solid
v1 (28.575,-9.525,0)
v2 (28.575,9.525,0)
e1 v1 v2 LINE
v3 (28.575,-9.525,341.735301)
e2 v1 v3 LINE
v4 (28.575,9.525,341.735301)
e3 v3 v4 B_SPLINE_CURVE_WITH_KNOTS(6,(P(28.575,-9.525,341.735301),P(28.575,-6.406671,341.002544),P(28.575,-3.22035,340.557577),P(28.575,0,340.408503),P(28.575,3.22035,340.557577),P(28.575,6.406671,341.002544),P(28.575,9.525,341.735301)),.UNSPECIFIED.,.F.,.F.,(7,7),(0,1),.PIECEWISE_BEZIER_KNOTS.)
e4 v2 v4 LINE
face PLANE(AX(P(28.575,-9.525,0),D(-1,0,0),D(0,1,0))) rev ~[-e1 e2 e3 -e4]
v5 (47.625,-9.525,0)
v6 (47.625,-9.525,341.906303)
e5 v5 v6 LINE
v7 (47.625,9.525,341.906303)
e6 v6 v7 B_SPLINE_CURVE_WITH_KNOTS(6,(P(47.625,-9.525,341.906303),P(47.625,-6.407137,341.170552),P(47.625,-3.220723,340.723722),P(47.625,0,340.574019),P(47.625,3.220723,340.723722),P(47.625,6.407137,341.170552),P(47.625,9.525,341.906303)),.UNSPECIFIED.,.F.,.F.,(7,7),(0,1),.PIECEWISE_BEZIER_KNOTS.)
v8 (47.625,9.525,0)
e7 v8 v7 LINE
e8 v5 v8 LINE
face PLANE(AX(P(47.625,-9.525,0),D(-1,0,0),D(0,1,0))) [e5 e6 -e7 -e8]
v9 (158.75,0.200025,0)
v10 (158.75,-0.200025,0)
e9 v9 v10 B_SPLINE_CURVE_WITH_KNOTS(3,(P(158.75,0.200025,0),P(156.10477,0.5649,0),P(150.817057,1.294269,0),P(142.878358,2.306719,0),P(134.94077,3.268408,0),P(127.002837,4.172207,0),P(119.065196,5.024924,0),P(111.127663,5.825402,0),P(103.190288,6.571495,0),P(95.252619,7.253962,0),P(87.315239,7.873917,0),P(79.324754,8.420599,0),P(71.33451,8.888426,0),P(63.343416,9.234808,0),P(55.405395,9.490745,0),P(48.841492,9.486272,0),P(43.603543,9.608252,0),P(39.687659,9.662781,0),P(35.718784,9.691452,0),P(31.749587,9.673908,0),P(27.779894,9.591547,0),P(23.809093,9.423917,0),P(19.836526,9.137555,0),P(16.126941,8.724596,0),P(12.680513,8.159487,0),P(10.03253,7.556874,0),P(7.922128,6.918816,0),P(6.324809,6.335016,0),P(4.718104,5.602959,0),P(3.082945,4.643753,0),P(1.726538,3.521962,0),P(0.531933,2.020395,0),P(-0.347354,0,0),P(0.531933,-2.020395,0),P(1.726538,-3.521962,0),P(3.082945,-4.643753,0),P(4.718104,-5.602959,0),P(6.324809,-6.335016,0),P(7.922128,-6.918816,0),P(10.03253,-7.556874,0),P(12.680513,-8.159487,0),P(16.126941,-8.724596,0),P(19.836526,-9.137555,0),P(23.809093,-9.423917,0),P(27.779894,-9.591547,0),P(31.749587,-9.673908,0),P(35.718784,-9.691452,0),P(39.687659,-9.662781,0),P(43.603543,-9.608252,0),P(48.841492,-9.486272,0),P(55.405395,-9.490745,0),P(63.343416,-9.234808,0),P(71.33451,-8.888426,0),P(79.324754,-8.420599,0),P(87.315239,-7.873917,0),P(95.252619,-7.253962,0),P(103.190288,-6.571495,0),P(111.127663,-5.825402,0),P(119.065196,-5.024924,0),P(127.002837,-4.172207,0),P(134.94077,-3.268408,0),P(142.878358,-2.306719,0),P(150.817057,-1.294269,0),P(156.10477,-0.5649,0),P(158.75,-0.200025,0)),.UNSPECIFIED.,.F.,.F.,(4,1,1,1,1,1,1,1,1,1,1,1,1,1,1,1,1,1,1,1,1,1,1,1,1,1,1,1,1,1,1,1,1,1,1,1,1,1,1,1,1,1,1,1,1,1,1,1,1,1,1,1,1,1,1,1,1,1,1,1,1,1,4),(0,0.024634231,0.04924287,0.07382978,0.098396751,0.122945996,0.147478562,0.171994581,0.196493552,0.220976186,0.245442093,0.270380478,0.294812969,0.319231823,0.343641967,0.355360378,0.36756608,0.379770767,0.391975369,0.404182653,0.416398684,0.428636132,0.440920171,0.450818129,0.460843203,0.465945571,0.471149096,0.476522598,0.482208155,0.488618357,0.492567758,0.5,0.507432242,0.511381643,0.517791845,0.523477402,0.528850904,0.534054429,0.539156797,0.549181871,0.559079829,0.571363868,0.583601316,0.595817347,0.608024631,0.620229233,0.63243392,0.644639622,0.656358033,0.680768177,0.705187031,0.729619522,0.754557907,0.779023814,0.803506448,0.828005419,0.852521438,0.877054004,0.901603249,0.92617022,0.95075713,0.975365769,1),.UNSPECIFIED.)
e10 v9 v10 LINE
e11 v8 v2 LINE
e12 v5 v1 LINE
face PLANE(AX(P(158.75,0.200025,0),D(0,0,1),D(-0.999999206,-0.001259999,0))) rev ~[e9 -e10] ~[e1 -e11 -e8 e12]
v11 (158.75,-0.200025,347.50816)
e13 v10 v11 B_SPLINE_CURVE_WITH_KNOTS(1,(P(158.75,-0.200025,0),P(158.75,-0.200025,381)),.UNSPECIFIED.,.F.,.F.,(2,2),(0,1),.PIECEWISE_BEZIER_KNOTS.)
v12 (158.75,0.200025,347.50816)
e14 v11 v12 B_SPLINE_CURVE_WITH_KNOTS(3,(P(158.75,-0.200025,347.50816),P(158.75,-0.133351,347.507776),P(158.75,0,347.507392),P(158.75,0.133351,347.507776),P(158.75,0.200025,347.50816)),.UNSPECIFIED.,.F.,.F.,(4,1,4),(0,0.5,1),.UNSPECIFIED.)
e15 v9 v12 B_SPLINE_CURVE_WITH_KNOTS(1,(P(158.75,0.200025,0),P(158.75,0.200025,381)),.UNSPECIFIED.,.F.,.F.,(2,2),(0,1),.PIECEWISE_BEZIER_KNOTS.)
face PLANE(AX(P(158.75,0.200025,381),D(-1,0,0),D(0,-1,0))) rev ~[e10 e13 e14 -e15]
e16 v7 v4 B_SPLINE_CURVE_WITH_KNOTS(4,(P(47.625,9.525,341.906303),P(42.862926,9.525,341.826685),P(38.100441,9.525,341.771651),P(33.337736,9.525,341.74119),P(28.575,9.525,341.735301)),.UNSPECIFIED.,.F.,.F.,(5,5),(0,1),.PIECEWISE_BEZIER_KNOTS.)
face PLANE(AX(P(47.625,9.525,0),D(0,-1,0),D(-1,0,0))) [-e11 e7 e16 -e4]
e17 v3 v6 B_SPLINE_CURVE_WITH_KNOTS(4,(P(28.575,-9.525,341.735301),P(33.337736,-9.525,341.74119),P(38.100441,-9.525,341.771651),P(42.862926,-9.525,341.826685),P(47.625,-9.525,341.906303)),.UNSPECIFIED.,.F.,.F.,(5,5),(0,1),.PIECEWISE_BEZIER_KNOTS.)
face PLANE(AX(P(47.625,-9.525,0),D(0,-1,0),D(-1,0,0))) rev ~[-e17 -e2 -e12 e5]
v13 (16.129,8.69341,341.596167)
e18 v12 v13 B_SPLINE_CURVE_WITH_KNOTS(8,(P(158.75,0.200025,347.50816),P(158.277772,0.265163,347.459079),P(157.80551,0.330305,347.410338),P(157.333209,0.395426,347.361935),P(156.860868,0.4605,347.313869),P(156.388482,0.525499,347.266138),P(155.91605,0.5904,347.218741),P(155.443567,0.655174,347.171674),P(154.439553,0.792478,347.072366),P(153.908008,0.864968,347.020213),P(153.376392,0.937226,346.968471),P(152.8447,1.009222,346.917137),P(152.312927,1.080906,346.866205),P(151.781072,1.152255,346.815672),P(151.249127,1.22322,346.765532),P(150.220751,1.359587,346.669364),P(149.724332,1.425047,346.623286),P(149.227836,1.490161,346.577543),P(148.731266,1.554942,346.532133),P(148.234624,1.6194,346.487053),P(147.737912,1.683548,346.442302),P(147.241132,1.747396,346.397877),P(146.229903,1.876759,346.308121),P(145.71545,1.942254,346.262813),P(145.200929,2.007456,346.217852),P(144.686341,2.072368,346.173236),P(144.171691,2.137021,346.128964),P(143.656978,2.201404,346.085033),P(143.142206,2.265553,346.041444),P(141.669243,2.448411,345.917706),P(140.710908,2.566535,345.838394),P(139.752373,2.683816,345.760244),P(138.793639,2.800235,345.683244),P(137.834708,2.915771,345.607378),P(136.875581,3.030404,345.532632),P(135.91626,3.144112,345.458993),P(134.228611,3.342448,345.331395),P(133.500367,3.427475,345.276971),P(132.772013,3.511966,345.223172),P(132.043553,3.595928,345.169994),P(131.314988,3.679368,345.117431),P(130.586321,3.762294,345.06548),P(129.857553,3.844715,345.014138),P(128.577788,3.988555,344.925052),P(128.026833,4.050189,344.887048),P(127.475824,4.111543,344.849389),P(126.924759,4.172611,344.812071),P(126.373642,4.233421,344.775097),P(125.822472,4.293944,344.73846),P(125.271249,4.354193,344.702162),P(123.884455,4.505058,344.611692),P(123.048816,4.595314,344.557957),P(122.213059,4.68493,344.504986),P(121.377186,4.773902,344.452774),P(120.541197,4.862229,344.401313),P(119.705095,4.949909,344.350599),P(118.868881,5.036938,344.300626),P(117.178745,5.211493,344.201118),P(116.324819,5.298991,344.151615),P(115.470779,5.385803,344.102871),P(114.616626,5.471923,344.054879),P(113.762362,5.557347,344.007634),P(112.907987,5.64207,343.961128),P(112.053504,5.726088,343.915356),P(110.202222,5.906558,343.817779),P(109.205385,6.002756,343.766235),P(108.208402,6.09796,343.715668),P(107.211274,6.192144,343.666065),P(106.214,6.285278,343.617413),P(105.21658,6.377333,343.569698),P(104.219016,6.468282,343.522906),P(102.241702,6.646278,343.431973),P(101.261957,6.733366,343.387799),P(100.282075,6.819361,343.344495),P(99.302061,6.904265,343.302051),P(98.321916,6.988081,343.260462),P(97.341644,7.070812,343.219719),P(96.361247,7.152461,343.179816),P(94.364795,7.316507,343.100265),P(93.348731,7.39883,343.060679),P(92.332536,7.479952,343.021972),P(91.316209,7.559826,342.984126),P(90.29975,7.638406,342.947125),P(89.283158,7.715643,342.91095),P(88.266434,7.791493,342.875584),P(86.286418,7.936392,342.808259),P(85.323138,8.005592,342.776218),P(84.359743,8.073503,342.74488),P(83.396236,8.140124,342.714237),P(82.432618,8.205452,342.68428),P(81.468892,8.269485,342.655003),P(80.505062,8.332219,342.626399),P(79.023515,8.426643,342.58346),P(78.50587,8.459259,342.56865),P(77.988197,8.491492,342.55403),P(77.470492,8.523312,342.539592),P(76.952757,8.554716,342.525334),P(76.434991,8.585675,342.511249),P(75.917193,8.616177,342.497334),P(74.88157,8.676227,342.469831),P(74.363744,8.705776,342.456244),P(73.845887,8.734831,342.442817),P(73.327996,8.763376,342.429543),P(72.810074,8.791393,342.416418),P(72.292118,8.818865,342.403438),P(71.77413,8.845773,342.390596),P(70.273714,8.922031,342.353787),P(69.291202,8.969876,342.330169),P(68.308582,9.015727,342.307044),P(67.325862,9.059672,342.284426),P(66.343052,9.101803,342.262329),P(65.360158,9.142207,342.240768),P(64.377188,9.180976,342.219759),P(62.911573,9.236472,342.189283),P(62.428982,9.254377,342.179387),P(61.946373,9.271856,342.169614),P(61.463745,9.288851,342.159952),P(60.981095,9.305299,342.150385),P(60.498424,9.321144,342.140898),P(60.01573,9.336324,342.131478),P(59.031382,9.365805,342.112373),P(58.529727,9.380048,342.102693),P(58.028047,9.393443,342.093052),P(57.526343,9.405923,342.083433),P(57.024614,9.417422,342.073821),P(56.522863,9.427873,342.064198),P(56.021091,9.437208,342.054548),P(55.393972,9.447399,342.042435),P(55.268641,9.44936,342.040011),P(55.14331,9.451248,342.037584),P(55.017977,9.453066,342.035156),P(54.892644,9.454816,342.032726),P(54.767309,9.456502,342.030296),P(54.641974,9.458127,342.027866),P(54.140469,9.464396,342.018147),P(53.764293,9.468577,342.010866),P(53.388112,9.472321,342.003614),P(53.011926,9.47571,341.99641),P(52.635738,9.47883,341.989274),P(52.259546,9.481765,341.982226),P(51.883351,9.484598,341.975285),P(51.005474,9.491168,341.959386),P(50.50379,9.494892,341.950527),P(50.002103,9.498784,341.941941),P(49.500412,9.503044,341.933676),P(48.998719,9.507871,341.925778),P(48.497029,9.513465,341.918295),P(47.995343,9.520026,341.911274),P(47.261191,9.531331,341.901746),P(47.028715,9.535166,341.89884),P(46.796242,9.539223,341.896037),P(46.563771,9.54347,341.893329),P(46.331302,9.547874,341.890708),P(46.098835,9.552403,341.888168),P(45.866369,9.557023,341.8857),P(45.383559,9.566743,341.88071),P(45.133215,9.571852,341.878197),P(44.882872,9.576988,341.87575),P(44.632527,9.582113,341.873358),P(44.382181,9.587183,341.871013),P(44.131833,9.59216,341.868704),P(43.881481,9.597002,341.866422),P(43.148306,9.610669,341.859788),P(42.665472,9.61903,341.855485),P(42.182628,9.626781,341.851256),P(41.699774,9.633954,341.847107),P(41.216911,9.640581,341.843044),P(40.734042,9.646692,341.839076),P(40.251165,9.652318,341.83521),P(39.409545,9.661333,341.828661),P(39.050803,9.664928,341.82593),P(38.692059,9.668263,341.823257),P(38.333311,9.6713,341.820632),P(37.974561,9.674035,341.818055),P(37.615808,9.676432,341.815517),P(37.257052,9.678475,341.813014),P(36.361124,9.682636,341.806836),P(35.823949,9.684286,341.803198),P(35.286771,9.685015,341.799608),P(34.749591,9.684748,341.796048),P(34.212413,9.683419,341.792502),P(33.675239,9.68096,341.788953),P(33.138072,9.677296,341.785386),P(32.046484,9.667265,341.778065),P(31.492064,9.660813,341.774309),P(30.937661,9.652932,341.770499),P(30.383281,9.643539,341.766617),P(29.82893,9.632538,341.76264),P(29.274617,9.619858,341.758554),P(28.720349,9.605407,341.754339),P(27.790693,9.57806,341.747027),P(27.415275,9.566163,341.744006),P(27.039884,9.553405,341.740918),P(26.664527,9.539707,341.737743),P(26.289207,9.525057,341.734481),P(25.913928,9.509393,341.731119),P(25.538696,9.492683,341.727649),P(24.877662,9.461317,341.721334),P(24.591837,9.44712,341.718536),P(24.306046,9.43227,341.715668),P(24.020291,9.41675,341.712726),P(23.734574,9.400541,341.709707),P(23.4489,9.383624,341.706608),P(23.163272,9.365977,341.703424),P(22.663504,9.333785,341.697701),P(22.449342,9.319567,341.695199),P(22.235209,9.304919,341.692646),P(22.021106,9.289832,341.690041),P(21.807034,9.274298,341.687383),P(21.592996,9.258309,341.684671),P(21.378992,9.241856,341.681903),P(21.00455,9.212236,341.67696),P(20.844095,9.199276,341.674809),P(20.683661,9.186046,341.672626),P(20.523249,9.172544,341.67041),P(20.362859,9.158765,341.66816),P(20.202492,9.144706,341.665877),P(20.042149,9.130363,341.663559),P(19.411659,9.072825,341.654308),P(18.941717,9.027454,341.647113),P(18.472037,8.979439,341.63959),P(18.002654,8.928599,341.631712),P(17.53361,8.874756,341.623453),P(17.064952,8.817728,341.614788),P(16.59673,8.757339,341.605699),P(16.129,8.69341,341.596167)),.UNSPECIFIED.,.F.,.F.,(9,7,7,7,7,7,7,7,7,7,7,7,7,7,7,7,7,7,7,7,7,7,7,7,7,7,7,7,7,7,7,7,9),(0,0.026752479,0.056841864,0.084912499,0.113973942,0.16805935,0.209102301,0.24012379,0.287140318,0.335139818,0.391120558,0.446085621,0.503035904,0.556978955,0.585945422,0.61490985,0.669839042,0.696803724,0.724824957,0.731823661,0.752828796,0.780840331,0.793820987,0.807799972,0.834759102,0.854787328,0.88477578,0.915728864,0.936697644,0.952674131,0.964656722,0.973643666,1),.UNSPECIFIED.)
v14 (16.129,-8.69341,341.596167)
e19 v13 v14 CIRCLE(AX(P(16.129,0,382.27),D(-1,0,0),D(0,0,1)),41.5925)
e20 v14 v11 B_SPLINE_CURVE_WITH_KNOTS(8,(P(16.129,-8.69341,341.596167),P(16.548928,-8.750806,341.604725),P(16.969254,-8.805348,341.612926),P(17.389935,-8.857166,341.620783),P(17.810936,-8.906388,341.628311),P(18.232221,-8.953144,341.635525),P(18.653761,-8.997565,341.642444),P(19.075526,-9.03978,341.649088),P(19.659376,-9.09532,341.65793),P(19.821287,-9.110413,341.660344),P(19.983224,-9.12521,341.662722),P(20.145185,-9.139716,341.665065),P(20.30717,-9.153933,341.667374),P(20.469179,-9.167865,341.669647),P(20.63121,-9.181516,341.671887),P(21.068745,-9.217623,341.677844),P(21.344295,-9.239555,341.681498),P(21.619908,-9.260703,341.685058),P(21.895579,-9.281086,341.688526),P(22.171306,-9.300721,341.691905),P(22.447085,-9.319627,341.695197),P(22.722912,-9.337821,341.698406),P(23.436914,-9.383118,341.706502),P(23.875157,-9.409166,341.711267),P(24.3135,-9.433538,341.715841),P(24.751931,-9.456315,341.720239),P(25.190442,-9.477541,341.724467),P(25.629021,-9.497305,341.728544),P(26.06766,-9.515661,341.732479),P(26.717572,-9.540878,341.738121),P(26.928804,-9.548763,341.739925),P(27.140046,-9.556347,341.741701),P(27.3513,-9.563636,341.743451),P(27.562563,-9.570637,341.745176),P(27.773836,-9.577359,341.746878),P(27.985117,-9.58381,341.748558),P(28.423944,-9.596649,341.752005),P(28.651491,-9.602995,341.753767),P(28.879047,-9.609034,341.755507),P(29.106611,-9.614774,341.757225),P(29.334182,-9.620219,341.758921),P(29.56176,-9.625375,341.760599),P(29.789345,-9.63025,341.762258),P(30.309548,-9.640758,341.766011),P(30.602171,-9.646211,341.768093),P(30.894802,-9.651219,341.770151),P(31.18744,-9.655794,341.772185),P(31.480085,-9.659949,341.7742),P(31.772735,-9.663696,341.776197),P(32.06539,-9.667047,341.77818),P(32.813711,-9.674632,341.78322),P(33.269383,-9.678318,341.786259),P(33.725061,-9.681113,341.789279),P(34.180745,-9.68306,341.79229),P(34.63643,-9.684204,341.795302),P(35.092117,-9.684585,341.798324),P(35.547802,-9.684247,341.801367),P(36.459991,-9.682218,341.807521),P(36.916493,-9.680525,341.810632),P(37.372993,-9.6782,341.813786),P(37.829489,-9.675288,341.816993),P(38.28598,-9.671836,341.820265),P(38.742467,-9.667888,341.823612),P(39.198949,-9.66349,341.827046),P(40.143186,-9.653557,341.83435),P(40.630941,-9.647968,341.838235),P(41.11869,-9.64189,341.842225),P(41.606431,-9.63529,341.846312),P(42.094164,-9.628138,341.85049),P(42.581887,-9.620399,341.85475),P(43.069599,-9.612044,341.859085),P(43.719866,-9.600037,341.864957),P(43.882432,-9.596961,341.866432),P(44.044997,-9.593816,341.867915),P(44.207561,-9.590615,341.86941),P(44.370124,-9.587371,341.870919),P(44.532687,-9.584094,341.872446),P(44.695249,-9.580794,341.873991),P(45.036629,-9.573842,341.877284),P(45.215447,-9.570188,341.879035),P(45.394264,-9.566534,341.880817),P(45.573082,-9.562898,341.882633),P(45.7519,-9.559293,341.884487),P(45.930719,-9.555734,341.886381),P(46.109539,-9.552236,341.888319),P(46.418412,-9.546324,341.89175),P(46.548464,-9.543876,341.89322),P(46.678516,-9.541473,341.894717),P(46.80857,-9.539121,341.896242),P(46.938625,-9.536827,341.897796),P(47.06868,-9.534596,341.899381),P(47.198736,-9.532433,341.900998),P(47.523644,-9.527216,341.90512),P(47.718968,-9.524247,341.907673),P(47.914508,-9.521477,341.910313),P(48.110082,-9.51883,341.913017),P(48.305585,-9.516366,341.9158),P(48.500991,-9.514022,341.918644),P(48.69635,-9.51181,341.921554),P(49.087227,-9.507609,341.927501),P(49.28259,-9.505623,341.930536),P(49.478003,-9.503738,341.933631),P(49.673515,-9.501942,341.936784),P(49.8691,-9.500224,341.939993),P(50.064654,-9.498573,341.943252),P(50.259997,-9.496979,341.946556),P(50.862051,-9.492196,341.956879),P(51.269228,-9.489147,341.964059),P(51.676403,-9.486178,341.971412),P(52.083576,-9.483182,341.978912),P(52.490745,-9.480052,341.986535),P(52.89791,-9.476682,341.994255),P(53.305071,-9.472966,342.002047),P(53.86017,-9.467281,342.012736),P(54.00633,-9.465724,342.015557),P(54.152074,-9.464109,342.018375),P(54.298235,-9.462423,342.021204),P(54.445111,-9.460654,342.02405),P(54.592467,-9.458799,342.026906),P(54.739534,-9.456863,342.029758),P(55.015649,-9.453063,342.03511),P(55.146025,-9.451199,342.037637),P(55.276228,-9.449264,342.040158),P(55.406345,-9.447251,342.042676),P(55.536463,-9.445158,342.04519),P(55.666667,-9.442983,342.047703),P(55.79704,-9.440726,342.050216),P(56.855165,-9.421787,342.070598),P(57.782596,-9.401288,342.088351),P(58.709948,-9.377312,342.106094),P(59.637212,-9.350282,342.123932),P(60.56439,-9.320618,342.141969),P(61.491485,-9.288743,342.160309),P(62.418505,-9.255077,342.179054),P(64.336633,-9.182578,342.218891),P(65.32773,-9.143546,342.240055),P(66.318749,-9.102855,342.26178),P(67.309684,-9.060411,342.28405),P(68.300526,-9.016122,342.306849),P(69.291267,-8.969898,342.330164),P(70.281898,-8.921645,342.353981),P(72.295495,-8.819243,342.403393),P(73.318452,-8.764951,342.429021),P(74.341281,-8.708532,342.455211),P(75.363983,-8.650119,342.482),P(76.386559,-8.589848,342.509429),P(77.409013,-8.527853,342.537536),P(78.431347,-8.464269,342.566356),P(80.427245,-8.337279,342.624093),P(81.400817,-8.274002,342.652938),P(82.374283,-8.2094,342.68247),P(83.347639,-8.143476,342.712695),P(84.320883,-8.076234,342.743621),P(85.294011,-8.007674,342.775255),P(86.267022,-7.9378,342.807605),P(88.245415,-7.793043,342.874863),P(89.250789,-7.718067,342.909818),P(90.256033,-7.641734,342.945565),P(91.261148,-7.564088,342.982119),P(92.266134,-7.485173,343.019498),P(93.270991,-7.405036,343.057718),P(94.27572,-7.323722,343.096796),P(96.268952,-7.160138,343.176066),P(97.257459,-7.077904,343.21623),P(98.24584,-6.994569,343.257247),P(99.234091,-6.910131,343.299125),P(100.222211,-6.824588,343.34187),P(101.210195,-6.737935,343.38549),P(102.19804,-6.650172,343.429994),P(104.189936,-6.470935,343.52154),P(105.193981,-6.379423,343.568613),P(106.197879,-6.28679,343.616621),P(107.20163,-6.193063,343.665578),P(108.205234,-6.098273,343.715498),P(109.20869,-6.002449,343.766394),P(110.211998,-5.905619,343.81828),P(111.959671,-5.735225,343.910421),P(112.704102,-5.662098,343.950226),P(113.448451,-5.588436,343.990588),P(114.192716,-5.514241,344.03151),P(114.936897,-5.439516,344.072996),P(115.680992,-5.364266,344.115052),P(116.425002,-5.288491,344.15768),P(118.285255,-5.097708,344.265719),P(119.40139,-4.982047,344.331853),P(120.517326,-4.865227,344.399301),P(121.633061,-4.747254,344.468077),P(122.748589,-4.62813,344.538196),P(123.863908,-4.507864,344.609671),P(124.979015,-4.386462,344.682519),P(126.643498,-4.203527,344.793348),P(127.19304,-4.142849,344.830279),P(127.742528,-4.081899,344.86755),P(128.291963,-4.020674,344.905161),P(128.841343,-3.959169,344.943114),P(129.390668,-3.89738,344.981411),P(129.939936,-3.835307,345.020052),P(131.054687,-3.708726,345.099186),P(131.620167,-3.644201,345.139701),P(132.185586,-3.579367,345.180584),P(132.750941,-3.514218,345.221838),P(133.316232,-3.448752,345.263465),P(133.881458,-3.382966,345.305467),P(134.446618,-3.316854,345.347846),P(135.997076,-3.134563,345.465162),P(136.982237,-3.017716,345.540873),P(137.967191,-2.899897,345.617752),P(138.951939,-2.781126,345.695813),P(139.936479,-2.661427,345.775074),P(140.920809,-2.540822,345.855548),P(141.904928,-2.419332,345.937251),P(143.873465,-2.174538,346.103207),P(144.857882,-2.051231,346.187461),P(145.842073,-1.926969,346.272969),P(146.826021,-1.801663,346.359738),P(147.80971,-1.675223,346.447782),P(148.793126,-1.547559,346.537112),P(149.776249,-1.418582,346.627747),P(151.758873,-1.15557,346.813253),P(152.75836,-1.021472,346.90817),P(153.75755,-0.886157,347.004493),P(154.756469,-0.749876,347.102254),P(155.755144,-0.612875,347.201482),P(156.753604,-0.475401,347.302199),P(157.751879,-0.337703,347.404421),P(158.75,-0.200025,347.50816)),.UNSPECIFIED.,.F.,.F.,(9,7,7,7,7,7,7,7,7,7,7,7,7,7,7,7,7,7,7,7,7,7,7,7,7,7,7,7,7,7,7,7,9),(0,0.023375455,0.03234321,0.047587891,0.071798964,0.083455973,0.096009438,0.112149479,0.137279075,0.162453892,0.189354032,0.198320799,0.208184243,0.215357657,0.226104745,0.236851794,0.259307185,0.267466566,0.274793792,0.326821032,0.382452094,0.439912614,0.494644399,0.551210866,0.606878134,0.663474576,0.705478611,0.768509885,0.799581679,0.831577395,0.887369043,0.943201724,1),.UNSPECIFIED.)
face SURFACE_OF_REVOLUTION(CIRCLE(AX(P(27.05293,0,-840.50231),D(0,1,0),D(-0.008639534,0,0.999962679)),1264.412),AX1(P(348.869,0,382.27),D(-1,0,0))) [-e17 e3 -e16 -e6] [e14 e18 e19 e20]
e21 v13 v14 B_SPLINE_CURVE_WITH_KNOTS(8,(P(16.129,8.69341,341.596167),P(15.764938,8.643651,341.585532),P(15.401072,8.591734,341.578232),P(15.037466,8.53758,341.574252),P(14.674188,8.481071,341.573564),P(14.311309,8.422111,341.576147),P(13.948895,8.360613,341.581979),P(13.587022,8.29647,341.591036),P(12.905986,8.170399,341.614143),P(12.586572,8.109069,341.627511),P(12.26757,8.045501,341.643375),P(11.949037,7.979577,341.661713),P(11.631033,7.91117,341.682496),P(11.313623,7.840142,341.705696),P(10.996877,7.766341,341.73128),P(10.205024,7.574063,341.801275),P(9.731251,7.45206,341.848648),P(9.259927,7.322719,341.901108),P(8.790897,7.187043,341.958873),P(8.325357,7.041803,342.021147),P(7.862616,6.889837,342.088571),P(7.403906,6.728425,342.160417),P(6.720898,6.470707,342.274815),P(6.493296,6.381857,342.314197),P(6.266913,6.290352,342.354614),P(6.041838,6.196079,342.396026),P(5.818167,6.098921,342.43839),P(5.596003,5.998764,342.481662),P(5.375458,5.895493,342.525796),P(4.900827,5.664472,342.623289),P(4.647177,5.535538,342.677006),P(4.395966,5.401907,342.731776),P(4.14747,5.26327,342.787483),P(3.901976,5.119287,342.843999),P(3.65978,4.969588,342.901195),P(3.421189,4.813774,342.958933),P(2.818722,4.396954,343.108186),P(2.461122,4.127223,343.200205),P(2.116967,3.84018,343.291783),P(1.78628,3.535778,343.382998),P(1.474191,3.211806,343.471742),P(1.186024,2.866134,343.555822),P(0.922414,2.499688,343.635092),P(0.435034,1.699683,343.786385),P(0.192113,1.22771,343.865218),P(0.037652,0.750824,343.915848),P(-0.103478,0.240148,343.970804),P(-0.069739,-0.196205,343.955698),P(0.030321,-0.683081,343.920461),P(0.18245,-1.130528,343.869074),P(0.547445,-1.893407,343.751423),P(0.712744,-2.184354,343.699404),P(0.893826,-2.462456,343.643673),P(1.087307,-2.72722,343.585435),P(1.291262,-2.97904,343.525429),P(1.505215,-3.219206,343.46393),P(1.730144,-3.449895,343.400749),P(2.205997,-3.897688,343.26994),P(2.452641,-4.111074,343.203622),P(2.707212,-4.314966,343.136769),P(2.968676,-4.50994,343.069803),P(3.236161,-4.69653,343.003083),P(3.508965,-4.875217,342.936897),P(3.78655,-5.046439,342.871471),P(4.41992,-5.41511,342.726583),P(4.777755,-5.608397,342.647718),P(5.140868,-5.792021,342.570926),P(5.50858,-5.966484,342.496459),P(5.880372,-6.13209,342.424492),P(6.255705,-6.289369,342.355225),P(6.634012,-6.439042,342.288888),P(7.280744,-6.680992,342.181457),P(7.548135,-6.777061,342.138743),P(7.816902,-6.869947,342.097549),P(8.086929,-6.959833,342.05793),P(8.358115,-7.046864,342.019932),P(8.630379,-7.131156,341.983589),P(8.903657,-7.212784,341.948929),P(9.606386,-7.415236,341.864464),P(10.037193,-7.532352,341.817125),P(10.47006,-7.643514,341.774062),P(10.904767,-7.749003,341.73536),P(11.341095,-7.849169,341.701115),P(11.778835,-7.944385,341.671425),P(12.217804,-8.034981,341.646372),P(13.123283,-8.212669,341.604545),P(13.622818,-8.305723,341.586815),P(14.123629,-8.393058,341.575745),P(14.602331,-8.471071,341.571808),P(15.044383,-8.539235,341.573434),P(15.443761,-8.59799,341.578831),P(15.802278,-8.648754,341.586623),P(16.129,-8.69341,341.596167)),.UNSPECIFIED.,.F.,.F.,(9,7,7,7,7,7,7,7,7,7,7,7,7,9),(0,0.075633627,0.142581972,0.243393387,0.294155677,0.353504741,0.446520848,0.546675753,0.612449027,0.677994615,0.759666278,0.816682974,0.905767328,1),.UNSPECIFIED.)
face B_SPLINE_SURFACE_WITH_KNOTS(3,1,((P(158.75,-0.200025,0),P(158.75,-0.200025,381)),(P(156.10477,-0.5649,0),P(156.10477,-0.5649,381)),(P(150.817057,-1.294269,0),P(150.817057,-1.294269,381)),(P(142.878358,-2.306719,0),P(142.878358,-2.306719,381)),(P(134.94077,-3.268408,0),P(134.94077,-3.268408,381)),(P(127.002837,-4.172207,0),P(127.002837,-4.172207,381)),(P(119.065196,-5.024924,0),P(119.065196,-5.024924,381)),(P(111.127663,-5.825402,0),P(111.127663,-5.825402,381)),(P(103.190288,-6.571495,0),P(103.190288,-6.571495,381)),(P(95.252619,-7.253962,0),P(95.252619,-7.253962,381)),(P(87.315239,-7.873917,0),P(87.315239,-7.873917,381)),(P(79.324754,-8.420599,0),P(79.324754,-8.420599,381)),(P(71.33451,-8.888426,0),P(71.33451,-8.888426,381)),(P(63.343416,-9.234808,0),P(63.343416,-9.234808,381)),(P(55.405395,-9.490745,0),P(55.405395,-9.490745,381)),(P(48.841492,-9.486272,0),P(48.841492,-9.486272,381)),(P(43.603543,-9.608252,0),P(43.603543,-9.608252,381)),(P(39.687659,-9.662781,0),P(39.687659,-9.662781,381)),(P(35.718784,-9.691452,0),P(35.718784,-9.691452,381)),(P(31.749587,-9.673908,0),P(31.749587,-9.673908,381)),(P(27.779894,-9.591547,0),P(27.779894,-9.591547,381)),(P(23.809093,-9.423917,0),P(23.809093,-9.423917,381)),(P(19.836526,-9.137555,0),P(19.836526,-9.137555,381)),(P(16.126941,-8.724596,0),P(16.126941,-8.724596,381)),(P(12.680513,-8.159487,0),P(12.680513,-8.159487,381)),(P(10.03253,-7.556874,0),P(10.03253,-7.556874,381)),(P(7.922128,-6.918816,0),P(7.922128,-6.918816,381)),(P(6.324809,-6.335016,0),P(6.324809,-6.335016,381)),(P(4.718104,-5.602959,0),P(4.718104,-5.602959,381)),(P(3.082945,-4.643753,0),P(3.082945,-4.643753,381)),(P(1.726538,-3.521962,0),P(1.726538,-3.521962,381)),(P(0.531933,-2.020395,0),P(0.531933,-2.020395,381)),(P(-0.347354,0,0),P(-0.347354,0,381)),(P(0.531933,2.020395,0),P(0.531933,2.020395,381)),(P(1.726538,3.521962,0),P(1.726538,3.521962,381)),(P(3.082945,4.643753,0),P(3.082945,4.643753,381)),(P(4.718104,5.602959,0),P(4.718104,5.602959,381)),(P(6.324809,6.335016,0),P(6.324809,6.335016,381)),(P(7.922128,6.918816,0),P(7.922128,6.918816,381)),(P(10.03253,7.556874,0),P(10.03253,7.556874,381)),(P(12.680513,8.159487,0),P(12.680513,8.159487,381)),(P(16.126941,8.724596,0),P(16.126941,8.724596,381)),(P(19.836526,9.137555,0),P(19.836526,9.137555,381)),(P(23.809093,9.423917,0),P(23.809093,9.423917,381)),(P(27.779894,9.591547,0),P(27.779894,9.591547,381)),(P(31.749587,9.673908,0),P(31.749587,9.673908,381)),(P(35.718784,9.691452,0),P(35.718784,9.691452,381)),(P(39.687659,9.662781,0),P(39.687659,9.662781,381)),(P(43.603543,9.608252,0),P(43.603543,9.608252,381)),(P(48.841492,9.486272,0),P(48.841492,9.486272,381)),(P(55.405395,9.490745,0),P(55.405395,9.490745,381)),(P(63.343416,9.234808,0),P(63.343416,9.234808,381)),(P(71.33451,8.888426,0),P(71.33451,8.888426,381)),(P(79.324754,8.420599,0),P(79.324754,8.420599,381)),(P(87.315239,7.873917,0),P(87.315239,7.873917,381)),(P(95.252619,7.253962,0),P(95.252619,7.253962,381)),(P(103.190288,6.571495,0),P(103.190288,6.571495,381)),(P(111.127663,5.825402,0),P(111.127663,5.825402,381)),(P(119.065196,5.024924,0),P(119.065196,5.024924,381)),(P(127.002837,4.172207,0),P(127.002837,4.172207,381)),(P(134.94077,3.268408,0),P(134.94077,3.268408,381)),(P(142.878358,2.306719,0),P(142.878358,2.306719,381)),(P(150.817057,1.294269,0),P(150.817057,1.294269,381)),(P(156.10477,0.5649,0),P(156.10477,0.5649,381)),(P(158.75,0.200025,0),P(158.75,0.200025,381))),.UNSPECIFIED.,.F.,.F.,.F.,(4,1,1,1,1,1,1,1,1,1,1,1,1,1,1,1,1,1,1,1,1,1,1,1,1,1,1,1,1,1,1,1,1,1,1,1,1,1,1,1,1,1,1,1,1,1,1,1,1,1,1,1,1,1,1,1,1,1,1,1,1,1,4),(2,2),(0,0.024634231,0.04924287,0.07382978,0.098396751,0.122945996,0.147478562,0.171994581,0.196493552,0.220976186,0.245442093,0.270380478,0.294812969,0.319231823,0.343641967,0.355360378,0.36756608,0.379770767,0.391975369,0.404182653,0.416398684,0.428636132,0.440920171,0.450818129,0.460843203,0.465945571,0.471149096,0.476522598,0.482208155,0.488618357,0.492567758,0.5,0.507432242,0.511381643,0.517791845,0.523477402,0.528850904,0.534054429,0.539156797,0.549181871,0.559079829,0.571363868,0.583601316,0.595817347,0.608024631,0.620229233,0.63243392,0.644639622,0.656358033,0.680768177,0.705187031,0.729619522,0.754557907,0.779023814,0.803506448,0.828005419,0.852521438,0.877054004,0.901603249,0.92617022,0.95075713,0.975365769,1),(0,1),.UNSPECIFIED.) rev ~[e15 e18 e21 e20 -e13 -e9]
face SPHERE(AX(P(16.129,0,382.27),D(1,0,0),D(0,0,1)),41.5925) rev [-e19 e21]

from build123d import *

# Parameters (mm, degrees)
SKETCH5_W          = 19.05
SKETCH5_H          = 19.05
CUT_EXTRUDE1_DEPTH = 382.0000001


with BuildPart() as part:
    # Sketch3 → Loft1 section 0
    with BuildSketch(Plane.XY):
        with BuildLine():
            Line((158.75, 0.200025), (158.75, -0.200025))
            add(Edge.make_bspline(
                [(158.75, 0.200025), (156.104769639, 0.564899501), (150.817056987, 1.294269442), (142.878358215, 2.306719234), (134.940769513, 3.268408227), (127.002836924, 4.172206586), (119.065195908, 5.02492376), (111.127662782, 5.825402282), (103.190287717, 6.571495389), (95.252619427, 7.253962327), (87.315238521, 7.873917198), (79.324754405, 8.420599463), (71.334509538, 8.88842609), (63.343416227, 9.23480821), (55.405395055, 9.490745127), (48.841491744, 9.486272029), (43.603543006, 9.608252324), (39.687659066, 9.662780631), (35.718784429, 9.691452396), (31.749587034, 9.673907615), (27.779893882, 9.591546914), (23.80909263, 9.423916942), (19.83652587, 9.137555224), (16.126941466, 8.724596023), (12.680513312, 8.159487318), (10.032530426, 7.556873589), (7.922127502, 6.918815912), (6.324809311, 6.335015586), (4.718104282, 5.602959138), (3.08294517, 4.643752576), (1.726538443, 3.521961778), (0.531933312, 2.020395179), (-0.347353812, 0), (0.531933312, -2.020395179), (1.726538443, -3.521961778), (3.08294517, -4.643752576), (4.718104282, -5.602959138), (6.324809311, -6.335015586), (7.922127502, -6.918815912), (10.032530426, -7.556873589), (12.680513312, -8.159487318), (16.126941466, -8.724596023), (19.83652587, -9.137555224), (23.80909263, -9.423916942), (27.779893882, -9.591546914), (31.749587034, -9.673907615), (35.718784429, -9.691452396), (39.687659066, -9.662780631), (43.603543006, -9.608252324), (48.841491744, -9.486272029), (55.405395055, -9.490745127), (63.343416227, -9.23480821), (71.334509538, -8.88842609), (79.324754405, -8.420599463), (87.315238521, -7.873917198), (95.252619427, -7.253962327), (103.190287717, -6.571495389), (111.127662782, -5.825402282), (119.065195908, -5.02492376), (127.002836924, -4.172206586), (134.940769513, -3.268408227), (142.878358215, -2.306719234), (150.817056987, -1.294269442), (156.104769639, -0.564899501), (158.75, -0.200025)],
                knots=[0, 0, 0, 0, 0.024634231, 0.04924287, 0.07382978, 0.098396751, 0.122945996, 0.147478562, 0.171994581, 0.196493552, 0.220976186, 0.245442093, 0.270380478, 0.294812969, 0.319231823, 0.343641967, 0.355360378, 0.36756608, 0.379770767, 0.391975369, 0.404182653, 0.416398684, 0.428636132, 0.440920171, 0.450818129, 0.460843203, 0.465945571, 0.471149096, 0.476522598, 0.482208155, 0.488618357, 0.492567758, 0.5, 0.507432242, 0.511381643, 0.517791845, 0.523477402, 0.528850904, 0.534054429, 0.539156797, 0.549181871, 0.559079829, 0.571363868, 0.583601316, 0.595817347, 0.608024631, 0.620229233, 0.63243392, 0.644639622, 0.656358033, 0.680768177, 0.705187031, 0.729619522, 0.754557907, 0.779023814, 0.803506448, 0.828005419, 0.852521438, 0.877054004, 0.901603249, 0.92617022, 0.95075713, 0.975365769, 1, 1, 1, 1], degree=3))
        make_face()
    # Sketch4 → Loft1 section 1
    with BuildSketch(Plane.XY.offset(381)):
        with BuildLine():
            Line((158.75, 0.200025), (158.75, -0.200025))
            add(Edge.make_bspline(
                [(158.75, 0.200025), (156.104769639, 0.564899501), (150.817056987, 1.294269442), (142.878358215, 2.306719234), (134.940769513, 3.268408227), (127.002836924, 4.172206586), (119.065195908, 5.02492376), (111.127662782, 5.825402282), (103.190287717, 6.571495389), (95.252619427, 7.253962327), (87.315238521, 7.873917198), (79.324754405, 8.420599463), (71.334509538, 8.88842609), (63.343416227, 9.23480821), (55.405395055, 9.490745127), (48.841491744, 9.486272029), (43.603543006, 9.608252324), (39.687659066, 9.662780631), (35.718784429, 9.691452396), (31.749587034, 9.673907615), (27.779893882, 9.591546914), (23.80909263, 9.423916942), (19.83652587, 9.137555224), (16.126941466, 8.724596023), (12.680513312, 8.159487318), (10.032530426, 7.556873589), (7.922127502, 6.918815912), (6.324809311, 6.335015586), (4.718104282, 5.602959138), (3.08294517, 4.643752576), (1.726538443, 3.521961778), (0.531933312, 2.020395179), (-0.347353812, 0), (0.531933312, -2.020395179), (1.726538443, -3.521961778), (3.08294517, -4.643752576), (4.718104282, -5.602959138), (6.324809311, -6.335015586), (7.922127502, -6.918815912), (10.032530426, -7.556873589), (12.680513312, -8.159487318), (16.126941466, -8.724596023), (19.83652587, -9.137555224), (23.80909263, -9.423916942), (27.779893882, -9.591546914), (31.749587034, -9.673907615), (35.718784429, -9.691452396), (39.687659066, -9.662780631), (43.603543006, -9.608252324), (48.841491744, -9.486272029), (55.405395055, -9.490745127), (63.343416227, -9.23480821), (71.334509538, -8.88842609), (79.324754405, -8.420599463), (87.315238521, -7.873917198), (95.252619427, -7.253962327), (103.190287717, -6.571495389), (111.127662782, -5.825402282), (119.065195908, -5.02492376), (127.002836924, -4.172206586), (134.940769513, -3.268408227), (142.878358215, -2.306719234), (150.817056987, -1.294269442), (156.104769639, -0.564899501), (158.75, -0.200025)],
                knots=[0, 0, 0, 0, 0.024634231, 0.04924287, 0.07382978, 0.098396751, 0.122945996, 0.147478562, 0.171994581, 0.196493552, 0.220976186, 0.245442093, 0.270380478, 0.294812969, 0.319231823, 0.343641967, 0.355360378, 0.36756608, 0.379770767, 0.391975369, 0.404182653, 0.416398684, 0.428636132, 0.440920171, 0.450818129, 0.460843203, 0.465945571, 0.471149096, 0.476522598, 0.482208155, 0.488618357, 0.492567758, 0.5, 0.507432242, 0.511381643, 0.517791845, 0.523477402, 0.528850904, 0.534054429, 0.539156797, 0.549181871, 0.559079829, 0.571363868, 0.583601316, 0.595817347, 0.608024631, 0.620229233, 0.63243392, 0.644639622, 0.656358033, 0.680768177, 0.705187031, 0.729619522, 0.754557907, 0.779023814, 0.803506448, 0.828005419, 0.852521438, 0.877054004, 0.901603249, 0.92617022, 0.95075713, 0.975365769, 1, 1, 1, 1], degree=3))
        make_face()
    loft()

    # Sketch5 → Cut-Extrude1 (cut, through all)
    with BuildSketch(Plane(origin=(0, 0, 0), x_dir=(-1, 0, 0), z_dir=(0, 0, -1))):
        with Locations((-38.1, 0)):
            Rectangle(SKETCH5_W, SKETCH5_H)
    extrude(amount=-CUT_EXTRUDE1_DEPTH, mode=Mode.SUBTRACT)

    # Sketch7 → Cut-Revolve1 (revolve, cut)
    with BuildSketch(Plane(origin=(0, 0, 0), x_dir=(1, 0, 0), z_dir=(0, 1, 0))):
        with BuildLine():
            Line((348.869, -382.27), (-25.4635, -382.27))
            ThreePointArc((-25.4635, -382.27), (-13.281338797, -411.680338797), (16.129, -423.8625))
            ThreePointArc((16.129, -423.8625), (183.883936795, -414.145744362), (348.869, -382.27))
        make_face()
    revolve(axis=Axis((348.869, 0, 382.27), (-1, 0, 0)), mode=Mode.SUBTRACT)


solid = part.part
